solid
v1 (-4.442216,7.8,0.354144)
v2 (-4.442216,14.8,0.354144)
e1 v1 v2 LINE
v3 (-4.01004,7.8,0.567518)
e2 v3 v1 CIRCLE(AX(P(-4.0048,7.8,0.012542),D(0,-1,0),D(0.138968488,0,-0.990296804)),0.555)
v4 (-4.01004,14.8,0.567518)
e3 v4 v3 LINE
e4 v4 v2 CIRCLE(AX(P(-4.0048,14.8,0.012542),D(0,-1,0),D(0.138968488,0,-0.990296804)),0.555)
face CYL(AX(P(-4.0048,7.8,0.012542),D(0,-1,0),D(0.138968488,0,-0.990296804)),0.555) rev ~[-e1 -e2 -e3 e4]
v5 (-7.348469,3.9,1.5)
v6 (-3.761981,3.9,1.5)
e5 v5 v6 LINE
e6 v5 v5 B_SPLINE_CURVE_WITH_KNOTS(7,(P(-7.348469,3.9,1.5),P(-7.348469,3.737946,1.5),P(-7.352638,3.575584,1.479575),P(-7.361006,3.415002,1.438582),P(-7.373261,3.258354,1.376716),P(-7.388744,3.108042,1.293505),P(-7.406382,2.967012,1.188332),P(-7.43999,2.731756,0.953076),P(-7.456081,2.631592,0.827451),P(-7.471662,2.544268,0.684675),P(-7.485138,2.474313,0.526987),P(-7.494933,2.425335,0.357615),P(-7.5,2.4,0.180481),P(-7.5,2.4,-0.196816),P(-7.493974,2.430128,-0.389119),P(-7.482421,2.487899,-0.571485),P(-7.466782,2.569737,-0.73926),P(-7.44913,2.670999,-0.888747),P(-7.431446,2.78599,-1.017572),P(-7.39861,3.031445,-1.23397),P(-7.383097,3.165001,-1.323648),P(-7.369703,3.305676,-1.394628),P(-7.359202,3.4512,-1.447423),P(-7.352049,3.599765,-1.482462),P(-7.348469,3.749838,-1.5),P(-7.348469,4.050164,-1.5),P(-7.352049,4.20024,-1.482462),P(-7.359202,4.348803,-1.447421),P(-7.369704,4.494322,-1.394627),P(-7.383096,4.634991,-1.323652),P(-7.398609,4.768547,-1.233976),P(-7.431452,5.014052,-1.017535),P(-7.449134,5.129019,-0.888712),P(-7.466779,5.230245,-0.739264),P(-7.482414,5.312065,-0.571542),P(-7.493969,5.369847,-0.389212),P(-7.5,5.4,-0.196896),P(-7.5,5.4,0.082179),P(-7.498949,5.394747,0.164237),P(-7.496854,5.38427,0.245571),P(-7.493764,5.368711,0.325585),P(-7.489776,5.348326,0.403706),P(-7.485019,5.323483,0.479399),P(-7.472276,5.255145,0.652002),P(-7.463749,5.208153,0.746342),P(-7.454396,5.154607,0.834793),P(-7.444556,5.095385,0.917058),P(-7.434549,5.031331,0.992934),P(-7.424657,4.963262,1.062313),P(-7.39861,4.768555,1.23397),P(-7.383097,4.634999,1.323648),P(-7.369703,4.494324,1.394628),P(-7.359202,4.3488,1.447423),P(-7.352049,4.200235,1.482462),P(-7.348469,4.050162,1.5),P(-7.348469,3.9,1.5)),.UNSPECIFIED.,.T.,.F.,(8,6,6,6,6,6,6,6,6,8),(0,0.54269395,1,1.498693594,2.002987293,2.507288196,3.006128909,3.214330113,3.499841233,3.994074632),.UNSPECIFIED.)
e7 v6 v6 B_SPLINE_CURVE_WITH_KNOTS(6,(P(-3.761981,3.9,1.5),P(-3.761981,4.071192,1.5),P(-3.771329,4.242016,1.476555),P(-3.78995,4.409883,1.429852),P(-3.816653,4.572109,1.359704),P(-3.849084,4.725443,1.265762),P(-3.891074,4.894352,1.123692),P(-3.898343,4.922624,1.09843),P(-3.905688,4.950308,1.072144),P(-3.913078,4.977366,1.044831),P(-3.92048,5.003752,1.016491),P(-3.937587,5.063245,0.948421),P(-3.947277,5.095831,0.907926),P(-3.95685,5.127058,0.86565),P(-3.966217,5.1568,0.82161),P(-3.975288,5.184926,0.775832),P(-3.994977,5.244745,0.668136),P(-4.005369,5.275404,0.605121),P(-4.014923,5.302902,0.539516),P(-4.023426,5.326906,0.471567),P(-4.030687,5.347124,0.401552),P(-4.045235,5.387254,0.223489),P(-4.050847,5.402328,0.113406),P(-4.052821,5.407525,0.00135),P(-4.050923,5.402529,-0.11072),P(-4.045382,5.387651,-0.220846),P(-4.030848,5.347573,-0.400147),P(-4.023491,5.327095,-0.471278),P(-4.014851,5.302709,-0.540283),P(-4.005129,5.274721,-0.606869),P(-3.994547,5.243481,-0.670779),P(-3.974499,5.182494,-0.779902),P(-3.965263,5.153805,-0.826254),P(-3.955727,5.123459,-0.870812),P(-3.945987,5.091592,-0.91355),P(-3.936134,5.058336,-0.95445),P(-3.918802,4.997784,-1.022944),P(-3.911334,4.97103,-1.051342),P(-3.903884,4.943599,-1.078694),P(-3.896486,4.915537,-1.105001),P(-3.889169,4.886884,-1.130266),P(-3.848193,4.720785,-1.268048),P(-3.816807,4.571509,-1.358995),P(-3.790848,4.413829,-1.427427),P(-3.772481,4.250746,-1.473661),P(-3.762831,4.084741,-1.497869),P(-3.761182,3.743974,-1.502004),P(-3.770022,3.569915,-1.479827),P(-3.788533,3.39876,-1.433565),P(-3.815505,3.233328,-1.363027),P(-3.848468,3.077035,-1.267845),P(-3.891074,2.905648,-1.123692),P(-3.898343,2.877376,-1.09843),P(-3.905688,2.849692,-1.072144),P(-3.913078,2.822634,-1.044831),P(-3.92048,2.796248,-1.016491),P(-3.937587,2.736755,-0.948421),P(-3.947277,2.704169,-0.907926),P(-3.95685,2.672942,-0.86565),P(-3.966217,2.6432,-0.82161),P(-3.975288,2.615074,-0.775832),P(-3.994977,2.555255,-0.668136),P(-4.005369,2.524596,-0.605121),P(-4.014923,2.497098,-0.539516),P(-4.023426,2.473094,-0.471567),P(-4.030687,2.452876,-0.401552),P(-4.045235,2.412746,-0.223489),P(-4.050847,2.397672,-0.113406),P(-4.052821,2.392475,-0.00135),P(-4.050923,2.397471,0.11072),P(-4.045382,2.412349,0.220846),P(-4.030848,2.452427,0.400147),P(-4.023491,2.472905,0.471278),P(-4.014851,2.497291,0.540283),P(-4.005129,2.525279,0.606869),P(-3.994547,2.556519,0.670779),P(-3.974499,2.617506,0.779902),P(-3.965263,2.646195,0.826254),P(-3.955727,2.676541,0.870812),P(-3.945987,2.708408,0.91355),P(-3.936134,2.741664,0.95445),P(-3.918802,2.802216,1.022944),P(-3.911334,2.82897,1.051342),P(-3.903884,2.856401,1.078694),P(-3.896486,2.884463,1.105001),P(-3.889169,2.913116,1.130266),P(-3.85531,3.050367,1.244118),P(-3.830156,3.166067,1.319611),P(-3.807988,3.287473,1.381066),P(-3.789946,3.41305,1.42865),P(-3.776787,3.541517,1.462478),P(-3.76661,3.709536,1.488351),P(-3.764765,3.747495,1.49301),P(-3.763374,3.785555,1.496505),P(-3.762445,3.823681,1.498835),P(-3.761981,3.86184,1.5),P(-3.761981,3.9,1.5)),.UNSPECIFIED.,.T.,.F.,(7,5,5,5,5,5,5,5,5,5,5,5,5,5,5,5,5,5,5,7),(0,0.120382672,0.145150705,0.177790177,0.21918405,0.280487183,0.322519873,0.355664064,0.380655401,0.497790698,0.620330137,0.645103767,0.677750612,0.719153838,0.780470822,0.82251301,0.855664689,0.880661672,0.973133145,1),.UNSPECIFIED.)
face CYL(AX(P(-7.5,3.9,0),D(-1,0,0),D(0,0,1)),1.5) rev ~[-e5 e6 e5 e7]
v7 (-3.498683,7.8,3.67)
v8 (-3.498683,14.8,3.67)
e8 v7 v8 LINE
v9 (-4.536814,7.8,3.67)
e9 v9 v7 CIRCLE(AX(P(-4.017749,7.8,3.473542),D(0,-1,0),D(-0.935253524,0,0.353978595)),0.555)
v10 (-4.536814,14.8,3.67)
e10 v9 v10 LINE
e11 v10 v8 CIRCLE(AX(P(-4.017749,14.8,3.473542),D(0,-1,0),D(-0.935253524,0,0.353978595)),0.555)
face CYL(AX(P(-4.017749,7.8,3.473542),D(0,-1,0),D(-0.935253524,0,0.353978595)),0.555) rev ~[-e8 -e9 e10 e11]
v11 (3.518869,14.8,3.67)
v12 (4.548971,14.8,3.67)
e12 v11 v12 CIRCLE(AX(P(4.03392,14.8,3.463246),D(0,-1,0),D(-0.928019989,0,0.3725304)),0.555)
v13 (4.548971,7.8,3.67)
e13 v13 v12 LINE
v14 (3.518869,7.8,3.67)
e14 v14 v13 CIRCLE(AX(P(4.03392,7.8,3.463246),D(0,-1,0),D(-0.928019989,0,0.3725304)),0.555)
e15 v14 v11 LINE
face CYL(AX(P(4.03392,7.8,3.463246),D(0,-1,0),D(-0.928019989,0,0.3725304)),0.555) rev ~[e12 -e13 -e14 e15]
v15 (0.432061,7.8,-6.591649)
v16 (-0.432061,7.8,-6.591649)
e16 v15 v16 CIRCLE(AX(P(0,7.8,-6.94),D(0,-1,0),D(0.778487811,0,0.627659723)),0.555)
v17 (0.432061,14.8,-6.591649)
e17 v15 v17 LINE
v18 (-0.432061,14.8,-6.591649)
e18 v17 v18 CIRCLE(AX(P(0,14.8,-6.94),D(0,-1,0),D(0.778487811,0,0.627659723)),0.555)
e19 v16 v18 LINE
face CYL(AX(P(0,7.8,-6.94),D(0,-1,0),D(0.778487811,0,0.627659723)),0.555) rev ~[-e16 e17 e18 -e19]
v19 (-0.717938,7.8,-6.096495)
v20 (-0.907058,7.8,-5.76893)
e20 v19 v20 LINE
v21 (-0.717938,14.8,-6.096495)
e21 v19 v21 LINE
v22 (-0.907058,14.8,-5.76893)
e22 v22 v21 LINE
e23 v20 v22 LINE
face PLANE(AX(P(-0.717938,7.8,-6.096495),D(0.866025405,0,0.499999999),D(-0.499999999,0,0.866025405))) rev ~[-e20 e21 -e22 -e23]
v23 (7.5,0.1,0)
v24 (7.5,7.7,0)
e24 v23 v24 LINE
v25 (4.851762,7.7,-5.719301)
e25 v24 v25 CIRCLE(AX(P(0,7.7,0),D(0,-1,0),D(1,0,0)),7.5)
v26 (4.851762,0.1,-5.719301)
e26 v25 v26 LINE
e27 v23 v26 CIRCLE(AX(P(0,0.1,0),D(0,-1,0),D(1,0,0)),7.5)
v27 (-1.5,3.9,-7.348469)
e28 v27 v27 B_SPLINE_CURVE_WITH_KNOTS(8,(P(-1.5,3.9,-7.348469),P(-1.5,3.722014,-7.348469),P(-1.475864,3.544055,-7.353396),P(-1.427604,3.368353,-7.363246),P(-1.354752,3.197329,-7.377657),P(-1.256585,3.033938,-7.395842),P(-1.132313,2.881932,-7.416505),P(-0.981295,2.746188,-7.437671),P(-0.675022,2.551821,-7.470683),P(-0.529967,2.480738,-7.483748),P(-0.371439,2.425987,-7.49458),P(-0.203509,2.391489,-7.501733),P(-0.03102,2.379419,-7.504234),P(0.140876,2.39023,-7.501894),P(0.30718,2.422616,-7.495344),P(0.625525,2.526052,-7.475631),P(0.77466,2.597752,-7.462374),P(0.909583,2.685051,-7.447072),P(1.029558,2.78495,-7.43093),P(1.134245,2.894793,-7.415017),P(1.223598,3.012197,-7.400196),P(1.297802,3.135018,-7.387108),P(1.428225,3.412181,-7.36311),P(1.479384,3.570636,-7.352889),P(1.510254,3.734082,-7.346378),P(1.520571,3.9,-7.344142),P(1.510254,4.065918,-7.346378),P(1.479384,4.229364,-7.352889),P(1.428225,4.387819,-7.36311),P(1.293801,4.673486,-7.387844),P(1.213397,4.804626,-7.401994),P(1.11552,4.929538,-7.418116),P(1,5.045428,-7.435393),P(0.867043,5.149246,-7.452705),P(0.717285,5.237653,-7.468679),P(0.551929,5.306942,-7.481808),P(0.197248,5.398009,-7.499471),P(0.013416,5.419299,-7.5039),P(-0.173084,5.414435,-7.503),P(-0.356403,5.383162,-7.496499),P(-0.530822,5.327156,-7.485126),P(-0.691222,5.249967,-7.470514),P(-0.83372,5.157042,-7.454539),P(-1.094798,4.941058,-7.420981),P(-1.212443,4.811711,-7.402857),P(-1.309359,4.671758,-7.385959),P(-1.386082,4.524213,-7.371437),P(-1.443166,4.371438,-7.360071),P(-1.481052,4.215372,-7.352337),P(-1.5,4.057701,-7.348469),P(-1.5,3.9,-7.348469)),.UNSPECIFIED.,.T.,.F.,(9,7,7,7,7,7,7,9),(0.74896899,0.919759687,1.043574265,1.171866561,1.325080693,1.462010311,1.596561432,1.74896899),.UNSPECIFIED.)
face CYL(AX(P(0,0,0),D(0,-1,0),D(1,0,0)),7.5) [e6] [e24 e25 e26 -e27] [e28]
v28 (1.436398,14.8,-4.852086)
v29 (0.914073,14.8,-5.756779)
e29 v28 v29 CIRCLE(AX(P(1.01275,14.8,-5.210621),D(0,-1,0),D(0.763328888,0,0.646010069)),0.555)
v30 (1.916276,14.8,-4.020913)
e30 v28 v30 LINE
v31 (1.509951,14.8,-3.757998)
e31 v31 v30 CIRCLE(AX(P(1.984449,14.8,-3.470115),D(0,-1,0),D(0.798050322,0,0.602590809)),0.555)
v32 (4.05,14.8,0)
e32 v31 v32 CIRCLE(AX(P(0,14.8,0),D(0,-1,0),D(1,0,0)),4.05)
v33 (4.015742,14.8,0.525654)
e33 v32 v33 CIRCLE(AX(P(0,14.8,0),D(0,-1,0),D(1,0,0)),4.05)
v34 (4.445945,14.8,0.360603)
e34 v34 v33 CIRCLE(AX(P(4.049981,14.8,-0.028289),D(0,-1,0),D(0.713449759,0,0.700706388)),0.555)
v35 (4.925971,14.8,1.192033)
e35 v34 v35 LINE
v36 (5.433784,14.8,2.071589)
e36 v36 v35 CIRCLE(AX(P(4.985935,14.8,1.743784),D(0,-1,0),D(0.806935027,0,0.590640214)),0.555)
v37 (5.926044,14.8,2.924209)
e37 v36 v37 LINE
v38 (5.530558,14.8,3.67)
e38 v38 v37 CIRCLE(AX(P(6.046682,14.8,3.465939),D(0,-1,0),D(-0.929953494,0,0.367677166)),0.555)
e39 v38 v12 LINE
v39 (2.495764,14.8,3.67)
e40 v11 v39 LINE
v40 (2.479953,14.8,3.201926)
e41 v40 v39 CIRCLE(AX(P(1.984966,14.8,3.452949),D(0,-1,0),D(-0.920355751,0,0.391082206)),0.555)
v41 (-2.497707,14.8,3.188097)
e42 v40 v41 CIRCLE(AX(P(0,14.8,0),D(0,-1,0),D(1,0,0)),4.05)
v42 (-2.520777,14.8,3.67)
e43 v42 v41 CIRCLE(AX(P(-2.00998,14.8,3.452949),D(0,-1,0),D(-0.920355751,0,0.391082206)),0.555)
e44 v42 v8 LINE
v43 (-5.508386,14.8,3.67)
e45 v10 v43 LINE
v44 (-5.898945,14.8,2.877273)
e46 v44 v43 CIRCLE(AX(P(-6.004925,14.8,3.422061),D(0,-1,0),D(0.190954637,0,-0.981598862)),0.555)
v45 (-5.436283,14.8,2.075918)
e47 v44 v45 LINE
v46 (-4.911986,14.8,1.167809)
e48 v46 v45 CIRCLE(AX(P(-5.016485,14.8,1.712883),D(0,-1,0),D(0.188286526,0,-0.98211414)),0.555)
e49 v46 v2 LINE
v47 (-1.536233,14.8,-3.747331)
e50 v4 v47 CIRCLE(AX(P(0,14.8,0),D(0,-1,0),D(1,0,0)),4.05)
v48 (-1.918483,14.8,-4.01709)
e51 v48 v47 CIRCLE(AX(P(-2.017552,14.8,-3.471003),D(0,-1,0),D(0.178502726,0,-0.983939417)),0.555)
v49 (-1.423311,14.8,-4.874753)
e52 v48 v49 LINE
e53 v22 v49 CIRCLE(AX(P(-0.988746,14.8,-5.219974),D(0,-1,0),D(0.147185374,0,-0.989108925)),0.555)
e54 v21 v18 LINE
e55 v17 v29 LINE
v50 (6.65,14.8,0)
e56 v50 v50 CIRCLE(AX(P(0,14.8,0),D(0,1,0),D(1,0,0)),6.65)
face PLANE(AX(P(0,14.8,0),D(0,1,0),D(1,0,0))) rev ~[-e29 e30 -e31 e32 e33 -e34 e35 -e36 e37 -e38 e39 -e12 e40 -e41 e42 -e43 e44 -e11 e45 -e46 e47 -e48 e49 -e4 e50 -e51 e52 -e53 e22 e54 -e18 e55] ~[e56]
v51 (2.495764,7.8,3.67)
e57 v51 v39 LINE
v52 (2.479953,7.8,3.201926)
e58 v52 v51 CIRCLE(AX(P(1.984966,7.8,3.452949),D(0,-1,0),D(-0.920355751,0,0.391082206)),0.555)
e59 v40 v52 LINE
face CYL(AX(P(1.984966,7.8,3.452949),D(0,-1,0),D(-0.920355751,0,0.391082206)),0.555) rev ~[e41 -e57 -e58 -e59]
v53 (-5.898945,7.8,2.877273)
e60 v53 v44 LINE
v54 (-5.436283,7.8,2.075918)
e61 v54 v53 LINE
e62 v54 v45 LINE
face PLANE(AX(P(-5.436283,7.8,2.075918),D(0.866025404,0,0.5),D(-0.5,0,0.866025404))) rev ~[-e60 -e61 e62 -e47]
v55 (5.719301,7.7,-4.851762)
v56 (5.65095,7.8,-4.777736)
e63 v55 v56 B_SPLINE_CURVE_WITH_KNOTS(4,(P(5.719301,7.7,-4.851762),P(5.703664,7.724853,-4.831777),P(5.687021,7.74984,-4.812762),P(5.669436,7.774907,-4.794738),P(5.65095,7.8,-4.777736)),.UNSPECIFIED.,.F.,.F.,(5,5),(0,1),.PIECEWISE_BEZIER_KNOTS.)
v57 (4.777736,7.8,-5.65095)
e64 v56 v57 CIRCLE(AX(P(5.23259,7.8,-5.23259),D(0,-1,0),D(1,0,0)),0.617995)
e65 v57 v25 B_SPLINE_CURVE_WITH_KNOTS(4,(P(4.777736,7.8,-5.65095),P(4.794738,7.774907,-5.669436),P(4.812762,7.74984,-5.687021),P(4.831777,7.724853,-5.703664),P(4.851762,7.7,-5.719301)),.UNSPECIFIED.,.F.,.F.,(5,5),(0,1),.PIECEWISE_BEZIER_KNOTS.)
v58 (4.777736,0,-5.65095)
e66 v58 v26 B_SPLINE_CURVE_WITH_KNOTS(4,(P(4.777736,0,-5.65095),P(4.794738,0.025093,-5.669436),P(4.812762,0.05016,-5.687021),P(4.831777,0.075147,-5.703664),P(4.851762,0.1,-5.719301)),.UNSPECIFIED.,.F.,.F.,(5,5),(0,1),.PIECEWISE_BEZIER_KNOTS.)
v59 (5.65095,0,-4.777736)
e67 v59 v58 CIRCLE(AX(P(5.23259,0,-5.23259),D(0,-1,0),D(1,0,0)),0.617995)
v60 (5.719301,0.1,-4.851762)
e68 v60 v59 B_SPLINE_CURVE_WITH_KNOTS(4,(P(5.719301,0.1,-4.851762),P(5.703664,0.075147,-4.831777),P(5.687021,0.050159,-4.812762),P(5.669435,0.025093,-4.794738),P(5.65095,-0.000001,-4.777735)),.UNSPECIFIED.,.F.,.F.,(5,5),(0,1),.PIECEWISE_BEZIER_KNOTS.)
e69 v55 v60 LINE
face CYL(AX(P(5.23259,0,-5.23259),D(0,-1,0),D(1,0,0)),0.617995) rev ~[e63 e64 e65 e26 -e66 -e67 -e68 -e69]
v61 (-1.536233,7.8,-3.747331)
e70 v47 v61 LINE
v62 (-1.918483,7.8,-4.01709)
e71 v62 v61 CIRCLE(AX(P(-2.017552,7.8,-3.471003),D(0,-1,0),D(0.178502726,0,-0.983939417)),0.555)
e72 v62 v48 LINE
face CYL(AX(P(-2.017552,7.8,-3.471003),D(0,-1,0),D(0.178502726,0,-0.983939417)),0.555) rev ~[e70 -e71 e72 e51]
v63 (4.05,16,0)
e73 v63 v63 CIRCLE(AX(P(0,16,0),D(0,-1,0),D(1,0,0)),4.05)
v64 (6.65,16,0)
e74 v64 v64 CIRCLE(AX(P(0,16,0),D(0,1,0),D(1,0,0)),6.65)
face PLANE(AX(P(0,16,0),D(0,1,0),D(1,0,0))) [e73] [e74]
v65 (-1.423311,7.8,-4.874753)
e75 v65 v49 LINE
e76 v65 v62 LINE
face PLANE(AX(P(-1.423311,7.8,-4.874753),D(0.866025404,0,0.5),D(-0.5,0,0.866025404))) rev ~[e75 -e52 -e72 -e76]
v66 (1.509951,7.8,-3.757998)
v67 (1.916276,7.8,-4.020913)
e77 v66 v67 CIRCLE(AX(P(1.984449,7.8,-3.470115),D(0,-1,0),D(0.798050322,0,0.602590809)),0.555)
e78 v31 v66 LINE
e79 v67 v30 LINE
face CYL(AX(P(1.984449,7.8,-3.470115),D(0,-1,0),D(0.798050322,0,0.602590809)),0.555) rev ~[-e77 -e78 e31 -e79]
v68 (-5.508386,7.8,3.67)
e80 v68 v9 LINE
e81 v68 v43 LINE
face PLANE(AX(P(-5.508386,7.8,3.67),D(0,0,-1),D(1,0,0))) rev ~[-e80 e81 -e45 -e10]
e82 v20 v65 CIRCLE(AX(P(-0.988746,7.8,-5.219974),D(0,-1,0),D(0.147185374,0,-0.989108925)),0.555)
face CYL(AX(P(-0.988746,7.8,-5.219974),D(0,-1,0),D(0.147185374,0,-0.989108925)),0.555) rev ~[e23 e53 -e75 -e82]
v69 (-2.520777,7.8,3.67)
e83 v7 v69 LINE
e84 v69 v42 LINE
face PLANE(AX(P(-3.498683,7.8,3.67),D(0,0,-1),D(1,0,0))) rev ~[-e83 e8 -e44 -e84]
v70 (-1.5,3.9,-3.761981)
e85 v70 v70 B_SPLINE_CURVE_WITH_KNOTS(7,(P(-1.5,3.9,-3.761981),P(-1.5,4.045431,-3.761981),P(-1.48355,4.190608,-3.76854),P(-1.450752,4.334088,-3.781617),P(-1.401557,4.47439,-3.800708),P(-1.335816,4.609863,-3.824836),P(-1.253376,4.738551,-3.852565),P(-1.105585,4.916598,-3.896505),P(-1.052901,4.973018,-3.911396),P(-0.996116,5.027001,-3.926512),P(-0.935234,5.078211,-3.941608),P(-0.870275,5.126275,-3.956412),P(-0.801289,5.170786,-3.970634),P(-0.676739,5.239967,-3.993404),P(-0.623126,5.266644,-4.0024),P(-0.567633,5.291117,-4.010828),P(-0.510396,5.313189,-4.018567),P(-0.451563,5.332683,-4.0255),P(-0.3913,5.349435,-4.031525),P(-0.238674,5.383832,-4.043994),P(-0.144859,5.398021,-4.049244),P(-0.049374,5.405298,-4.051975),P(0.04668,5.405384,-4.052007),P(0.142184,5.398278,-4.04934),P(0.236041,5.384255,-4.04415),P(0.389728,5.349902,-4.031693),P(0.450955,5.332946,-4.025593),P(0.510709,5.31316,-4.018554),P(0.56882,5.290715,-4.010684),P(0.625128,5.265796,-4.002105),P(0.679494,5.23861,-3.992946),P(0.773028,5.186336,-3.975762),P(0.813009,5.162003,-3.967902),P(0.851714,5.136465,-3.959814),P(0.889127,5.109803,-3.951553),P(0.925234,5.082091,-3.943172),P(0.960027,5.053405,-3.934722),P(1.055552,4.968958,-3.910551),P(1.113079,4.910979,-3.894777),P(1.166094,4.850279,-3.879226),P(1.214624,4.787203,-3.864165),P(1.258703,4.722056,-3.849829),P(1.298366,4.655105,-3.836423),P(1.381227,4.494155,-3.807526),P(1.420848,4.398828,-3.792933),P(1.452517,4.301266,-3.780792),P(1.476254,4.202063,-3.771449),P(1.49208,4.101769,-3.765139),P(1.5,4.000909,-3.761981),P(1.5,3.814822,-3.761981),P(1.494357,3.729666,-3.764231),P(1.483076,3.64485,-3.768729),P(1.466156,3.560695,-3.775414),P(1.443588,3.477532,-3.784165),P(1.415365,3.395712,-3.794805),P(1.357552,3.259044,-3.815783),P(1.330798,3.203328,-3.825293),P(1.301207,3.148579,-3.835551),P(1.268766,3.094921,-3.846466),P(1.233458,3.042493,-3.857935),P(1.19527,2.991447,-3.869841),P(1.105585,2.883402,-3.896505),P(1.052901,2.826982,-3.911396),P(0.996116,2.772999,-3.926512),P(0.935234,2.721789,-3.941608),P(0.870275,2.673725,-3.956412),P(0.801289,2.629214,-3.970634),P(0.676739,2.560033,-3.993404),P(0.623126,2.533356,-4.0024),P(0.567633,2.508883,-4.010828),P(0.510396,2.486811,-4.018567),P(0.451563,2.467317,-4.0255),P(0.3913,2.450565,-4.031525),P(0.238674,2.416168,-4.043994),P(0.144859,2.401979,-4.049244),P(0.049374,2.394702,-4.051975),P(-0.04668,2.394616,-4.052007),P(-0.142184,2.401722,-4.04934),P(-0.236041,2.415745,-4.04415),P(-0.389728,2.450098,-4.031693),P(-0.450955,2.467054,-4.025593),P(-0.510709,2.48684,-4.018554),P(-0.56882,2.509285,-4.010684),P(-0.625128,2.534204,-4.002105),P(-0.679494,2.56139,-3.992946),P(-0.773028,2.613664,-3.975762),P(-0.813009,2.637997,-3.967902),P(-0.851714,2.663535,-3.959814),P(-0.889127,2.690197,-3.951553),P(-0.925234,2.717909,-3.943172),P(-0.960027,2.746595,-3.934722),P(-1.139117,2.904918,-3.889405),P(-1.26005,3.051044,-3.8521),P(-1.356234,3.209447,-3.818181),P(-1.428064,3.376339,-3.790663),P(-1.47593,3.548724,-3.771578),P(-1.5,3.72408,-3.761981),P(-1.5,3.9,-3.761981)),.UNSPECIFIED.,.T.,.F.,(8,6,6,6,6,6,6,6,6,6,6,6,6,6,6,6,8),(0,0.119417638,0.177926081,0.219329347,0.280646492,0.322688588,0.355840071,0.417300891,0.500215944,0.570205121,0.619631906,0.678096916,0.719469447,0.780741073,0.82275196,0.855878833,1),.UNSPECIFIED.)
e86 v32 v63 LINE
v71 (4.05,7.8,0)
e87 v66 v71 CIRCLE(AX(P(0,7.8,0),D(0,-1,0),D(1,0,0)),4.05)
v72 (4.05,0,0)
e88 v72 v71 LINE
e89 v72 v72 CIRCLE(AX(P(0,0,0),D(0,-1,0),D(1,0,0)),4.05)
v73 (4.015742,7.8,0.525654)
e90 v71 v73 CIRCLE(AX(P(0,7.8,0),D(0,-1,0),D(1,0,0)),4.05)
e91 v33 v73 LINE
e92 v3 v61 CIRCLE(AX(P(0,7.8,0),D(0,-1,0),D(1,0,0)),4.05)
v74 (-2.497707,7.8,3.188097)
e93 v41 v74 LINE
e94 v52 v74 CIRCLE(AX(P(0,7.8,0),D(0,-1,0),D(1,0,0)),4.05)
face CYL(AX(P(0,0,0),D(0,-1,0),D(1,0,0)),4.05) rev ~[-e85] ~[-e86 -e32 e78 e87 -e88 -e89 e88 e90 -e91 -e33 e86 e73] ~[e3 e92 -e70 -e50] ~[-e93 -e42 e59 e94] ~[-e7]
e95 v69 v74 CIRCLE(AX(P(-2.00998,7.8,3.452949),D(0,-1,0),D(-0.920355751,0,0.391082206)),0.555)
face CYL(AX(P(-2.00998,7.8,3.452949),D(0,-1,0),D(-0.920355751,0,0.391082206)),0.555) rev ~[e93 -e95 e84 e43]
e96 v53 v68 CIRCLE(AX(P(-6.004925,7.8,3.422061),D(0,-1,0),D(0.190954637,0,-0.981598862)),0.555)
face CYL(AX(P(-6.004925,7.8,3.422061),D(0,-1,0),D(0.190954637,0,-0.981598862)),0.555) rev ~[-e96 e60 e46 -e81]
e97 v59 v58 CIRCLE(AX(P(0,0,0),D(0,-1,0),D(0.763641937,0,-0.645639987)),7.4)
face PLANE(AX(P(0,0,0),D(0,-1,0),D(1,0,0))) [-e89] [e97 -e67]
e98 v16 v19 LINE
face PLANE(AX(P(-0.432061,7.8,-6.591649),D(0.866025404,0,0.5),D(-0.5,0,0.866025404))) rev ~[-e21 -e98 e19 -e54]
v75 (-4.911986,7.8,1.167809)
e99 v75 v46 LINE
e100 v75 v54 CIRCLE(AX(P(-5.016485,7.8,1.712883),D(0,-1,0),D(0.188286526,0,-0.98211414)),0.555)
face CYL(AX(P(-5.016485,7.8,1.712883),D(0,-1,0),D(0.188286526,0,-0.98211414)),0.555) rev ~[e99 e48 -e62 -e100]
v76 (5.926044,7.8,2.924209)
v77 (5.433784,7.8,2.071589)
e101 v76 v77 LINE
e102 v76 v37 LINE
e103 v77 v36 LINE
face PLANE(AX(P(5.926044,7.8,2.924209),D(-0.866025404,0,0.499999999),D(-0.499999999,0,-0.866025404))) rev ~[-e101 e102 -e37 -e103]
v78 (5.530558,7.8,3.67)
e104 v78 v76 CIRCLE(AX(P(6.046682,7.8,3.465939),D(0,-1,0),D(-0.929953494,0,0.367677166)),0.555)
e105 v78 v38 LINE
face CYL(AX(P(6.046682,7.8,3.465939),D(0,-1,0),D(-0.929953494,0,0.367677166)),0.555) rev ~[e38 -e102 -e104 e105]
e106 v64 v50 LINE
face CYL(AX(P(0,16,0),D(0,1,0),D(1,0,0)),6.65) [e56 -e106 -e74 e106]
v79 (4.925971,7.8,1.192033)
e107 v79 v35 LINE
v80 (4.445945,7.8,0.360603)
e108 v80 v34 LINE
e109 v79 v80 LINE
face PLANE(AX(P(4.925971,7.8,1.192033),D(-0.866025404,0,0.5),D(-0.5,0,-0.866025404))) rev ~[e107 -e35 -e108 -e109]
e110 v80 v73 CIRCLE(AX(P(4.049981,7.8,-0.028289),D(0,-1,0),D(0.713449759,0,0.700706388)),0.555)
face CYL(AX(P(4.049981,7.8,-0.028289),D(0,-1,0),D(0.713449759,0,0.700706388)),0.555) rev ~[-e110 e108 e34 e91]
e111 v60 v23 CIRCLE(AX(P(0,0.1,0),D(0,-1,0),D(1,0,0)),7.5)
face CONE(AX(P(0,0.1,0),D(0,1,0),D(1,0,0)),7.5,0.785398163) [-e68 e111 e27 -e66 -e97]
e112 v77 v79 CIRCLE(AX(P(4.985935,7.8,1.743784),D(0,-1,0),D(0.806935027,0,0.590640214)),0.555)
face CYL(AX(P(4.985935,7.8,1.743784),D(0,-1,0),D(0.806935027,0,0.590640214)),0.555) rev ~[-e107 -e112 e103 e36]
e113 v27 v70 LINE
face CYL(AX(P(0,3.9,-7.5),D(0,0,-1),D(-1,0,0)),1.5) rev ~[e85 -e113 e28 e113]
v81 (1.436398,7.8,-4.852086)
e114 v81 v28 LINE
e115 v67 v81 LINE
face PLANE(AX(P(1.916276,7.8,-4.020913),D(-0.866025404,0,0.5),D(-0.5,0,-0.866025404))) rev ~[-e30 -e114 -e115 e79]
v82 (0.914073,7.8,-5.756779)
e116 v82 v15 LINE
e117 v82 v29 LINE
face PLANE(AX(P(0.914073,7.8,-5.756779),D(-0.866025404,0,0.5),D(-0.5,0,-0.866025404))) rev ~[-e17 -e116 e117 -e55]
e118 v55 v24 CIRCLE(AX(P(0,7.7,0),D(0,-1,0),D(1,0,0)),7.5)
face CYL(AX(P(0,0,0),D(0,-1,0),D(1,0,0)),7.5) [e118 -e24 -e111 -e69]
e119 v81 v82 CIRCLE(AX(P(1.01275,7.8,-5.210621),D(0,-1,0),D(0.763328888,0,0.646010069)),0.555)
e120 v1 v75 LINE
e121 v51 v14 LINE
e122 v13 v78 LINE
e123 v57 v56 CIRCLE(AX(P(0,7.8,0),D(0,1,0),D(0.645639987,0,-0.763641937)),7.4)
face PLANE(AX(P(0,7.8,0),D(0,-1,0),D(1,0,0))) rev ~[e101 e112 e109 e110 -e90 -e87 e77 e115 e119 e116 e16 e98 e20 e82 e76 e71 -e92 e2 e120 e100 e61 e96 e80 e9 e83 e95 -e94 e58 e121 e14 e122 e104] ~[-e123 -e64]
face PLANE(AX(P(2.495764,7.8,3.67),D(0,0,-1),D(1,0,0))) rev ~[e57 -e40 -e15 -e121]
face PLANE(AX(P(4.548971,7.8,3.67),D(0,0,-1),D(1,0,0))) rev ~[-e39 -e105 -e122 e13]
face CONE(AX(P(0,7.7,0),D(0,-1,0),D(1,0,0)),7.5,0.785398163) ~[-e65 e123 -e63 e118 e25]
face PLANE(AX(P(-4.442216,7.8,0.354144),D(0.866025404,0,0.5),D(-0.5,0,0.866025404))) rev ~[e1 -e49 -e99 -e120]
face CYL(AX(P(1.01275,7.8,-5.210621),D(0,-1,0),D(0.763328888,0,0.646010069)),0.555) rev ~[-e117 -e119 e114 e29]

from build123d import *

# Parameters (mm, degrees)
P_IDAT_START            = 7.8
SKICA1_R                = 2.5
P_IDAT_VYSUNUT_M1_DEPTH = 7
SKICA2_R                = 3.5
SKICA2_R_2              = 2.5
P_IDAT_VYSUNUT_M2_DEPTH = 7.8
SKICA3_R                = 3.5
SKICA3_R_2              = 2.5
P_IDAT_VYSUNUT_M3_DEPTH = 1.2
SKICA5_R                = 7.5
SKICA5_R_2              = 3.5
P_IDAT_VYSUNUT_M4_DEPTH = 1.2
SKICA6_R                = 7.5
SKICA6_R_2              = 3.5
P_IDAT_VYSUNUT_M5_DEPTH = 7.8
ZKOSEN_1_SIZE           = 0.1
ZKOSEN_2_SIZE           = 0.1
ZKOSEN_3_SIZE           = 0.1
SKETCH8_OUTSIDE_W       = 22.314
SKETCH8_OUTSIDE_H       = 22.314
SKETCH8_OUTSIDE_R       = 6.65
CUT_EXTRUDE2_DEPTH      = 5
SKETCH19_R              = 1.5
CUT_EXTRUDE6_DEPTH      = 5
SKETCH20_R              = 1.5
CUT_EXTRUDE7_DEPTH      = 5
SKETCH7_R               = 4.05
CUT_EXTRUDE9_DEPTH      = 20
SKETCH27_R              = 7.4
CUT_EXTRUDE12_DEPTH     = 7
BOSS_EXTRUDE2_DEPTH     = 7.1
SKETCH28_R              = 4.05
CUT_EXTRUDE13_DEPTH     = 30
SKETCH30_R              = 0.617994848
CUT_EXTRUDE15_DEPTH     = 30


with BuildPart() as part:
    # Skica1 → Přidat vysunutím1 (new body)
    with BuildSketch(Plane(origin=(0, 0, 0), x_dir=(1, 0, 0), z_dir=(0, 1, 0)).offset(P_IDAT_START)):
        with BuildLine():
            ThreePointArc((-5.730143195, 1.098270155), (-5.09645097, 1.530497044), (-5.387174672, 2.240331989))
            ThreePointArc((-5.387174672, 2.240331989), (-5.468060657, 2.292707421), (-5.540463547, 2.356296335))
            ThreePointArc((-5.540463547, 2.356296335), (-5.573874331, 2.399596558), (-5.596043873, 2.44959357))
            ThreePointArc((-5.596043873, 2.44959357), (-5.50369925, 2.650567912), (-5.404139771, 2.848067596))
            ThreePointArc((-5.404139771, 2.848067596), (-5.351227535, 2.86190541), (-5.296542742, 2.862779021))
            ThreePointArc((-5.296542742, 2.862779021), (-5.201685094, 2.845815675), (-5.110305882, 2.815228615))
            ThreePointArc((-5.110305882, 2.815228615), (-4.374063308, 3.030479148), (-4.431206919, 3.795410862))
            ThreePointArc((-4.431206919, 3.795410862), (-4.491949163, 3.870218002), (-4.541158349, 3.953068377))
            ThreePointArc((-4.541158349, 3.953068377), (-4.559553388, 4.004573836), (-4.565187949, 4.058974585))
            ThreePointArc((-4.565187949, 4.058974585), (-4.415258506, 4.221576484), (-4.259541056, 4.378644275))
            ThreePointArc((-4.259541056, 4.378644275), (-4.204942409, 4.375454038), (-4.15266412, 4.359386362))
            ThreePointArc((-4.15266412, 4.359386362), (-4.067691098, 4.313940635), (-3.990236225, 4.256612884))
            ThreePointArc((-3.990236225, 4.256612884), (-3.223511854, 4.233816838), (-3.041481758, 4.978968476))
            ThreePointArc((-3.041481758, 4.978968476), (-3.076134388, 5.06888468), (-3.097332931, 5.162886543))
            ThreePointArc((-3.097332931, 5.162886543), (-3.09891159, 5.217555525), (-3.08745962, 5.271034888))
            ThreePointArc((-3.08745962, 5.271034888), (-2.894621497, 5.379347737), (-2.697988784, 5.480608745))
            ThreePointArc((-2.697988784, 5.480608745), (-2.647048223, 5.460702739), (-2.6022938, 5.429266591))
            ThreePointArc((-2.6022938, 5.429266591), (-2.535523156, 5.359787029), (-2.479574443, 5.281330225))
            ThreePointArc((-2.479574443, 5.281330225), (-1.7574206, 5.022719037), (-1.354035171, 5.675149965))
            ThreePointArc((-1.354035171, 5.675149965), (-1.359206146, 5.771373608), (-1.350318985, 5.867325402))
            ThreePointArc((-1.350318985, 5.867325402), (-1.334926735, 5.919806527), (-1.307509232, 5.967129569))
            ThreePointArc((-1.307509232, 5.967129569), (-1.090638767, 6.010550954), (-0.872338572, 6.046093045))
            ThreePointArc((-0.872338572, 6.046093045), (-0.830042514, 6.01141981), (-0.797192832, 5.967692379))
            ThreePointArc((-0.797192832, 5.967692379), (-0.755160541, 5.880980125), (-0.726194639, 5.789074167))
            ThreePointArc((-0.726194639, 5.789074167), (-0.119300773, 5.319962501), (0.465953812, 5.815808234))
            ThreePointArc((0.465953812, 5.815808234), (0.490770664, 5.908920276), (0.528873591, 5.997429571))
            ThreePointArc((0.528873591, 5.997429571), (0.55973005, 6.04258562), (0.600429269, 6.079120034))
            ThreePointArc((0.600429269, 6.079120034), (0.820103284, 6.053399565), (1.038702217, 6.019743632))
            ThreePointArc((1.038702217, 6.019743632), (1.06821354, 5.973697225), (1.085942924, 5.921958857))
            ThreePointArc((1.085942924, 5.921958857), (1.099122448, 5.826501911), (1.098270155, 5.730143195))
            ThreePointArc((1.098270155, 5.730143195), (1.530497044, 5.09645097), (2.240331989, 5.387174672))
            ThreePointArc((2.240331989, 5.387174672), (2.292707421, 5.468060657), (2.356296335, 5.540463547))
            ThreePointArc((2.356296335, 5.540463547), (2.399596558, 5.573874331), (2.44959357, 5.596043873))
            ThreePointArc((2.44959357, 5.596043873), (2.650567912, 5.50369925), (2.848067596, 5.404139771))
            ThreePointArc((2.848067596, 5.404139771), (2.86190541, 5.351227535), (2.862779021, 5.296542742))
            ThreePointArc((2.862779021, 5.296542742), (2.845815675, 5.201685094), (2.815228615, 5.110305882))
            ThreePointArc((2.815228615, 5.110305882), (3.030479148, 4.374063308), (3.795410862, 4.431206919))
            ThreePointArc((3.795410862, 4.431206919), (3.870218002, 4.491949163), (3.953068377, 4.541158349))
            ThreePointArc((3.953068377, 4.541158349), (4.004573836, 4.559553388), (4.058974585, 4.565187949))
            ThreePointArc((4.058974585, 4.565187949), (4.221576484, 4.415258506), (4.378644275, 4.259541056))
            ThreePointArc((4.378644275, 4.259541056), (4.375454038, 4.204942409), (4.359386362, 4.15266412))
            ThreePointArc((4.359386362, 4.15266412), (4.313940635, 4.067691098), (4.256612884, 3.990236225))
            ThreePointArc((4.256612884, 3.990236225), (4.233816838, 3.223511854), (4.978968476, 3.041481758))
            ThreePointArc((4.978968476, 3.041481758), (5.06888468, 3.076134388), (5.162886543, 3.097332931))
            ThreePointArc((5.162886543, 3.097332931), (5.217555525, 3.09891159), (5.271034888, 3.08745962))
            ThreePointArc((5.271034888, 3.08745962), (5.379347737, 2.894621497), (5.480608745, 2.697988784))
            ThreePointArc((5.480608745, 2.697988784), (5.460702739, 2.647048223), (5.429266591, 2.6022938))
            ThreePointArc((5.429266591, 2.6022938), (5.359787029, 2.535523156), (5.281330225, 2.479574443))
            ThreePointArc((5.281330225, 2.479574443), (5.022719037, 1.7574206), (5.675149965, 1.354035171))
            ThreePointArc((5.675149965, 1.354035171), (5.771373608, 1.359206146), (5.867325402, 1.350318985))
            ThreePointArc((5.867325402, 1.350318985), (5.919806527, 1.334926735), (5.967129569, 1.307509232))
            ThreePointArc((5.967129569, 1.307509232), (6.010550954, 1.090638767), (6.046093045, 0.872338572))
            ThreePointArc((6.046093045, 0.872338572), (6.01141981, 0.830042514), (5.967692379, 0.797192832))
            ThreePointArc((5.967692379, 0.797192832), (5.880980125, 0.755160541), (5.789074167, 0.726194639))
            ThreePointArc((5.789074167, 0.726194639), (5.319962501, 0.119300773), (5.815808234, -0.465953812))
            ThreePointArc((5.815808234, -0.465953812), (5.908920276, -0.490770664), (5.997429571, -0.528873591))
            ThreePointArc((5.997429571, -0.528873591), (6.04258562, -0.55973005), (6.079120034, -0.600429269))
            ThreePointArc((6.079120034, -0.600429269), (6.053399565, -0.820103284), (6.019743632, -1.038702217))
            ThreePointArc((6.019743632, -1.038702217), (5.973697225, -1.06821354), (5.921958857, -1.085942924))
            ThreePointArc((5.921958857, -1.085942924), (5.826501911, -1.099122448), (5.730143195, -1.098270155))
            ThreePointArc((5.730143195, -1.098270155), (5.09645097, -1.530497044), (5.387174672, -2.240331989))
            ThreePointArc((5.387174672, -2.240331989), (5.468060657, -2.292707421), (5.540463547, -2.356296335))
            ThreePointArc((5.540463547, -2.356296335), (5.573874331, -2.399596558), (5.596043873, -2.44959357))
            ThreePointArc((5.596043873, -2.44959357), (5.50369925, -2.650567911), (5.404139771, -2.848067596))
            ThreePointArc((5.404139771, -2.848067596), (5.351227535, -2.86190541), (5.296542742, -2.862779021))
            ThreePointArc((5.296542742, -2.862779021), (5.201685094, -2.845815675), (5.110305882, -2.815228615))
            ThreePointArc((5.110305882, -2.815228615), (4.374063308, -3.030479148), (4.431206919, -3.795410862))
            ThreePointArc((4.431206919, -3.795410862), (4.491949163, -3.870218002), (4.541158349, -3.953068377))
            ThreePointArc((4.541158349, -3.953068377), (4.559553388, -4.004573836), (4.565187949, -4.058974585))
            ThreePointArc((4.565187949, -4.058974585), (4.415258506, -4.221576484), (4.259541056, -4.378644275))
            ThreePointArc((4.259541056, -4.378644275), (4.204942409, -4.375454038), (4.15266412, -4.359386362))
            ThreePointArc((4.15266412, -4.359386362), (4.067691098, -4.313940635), (3.990236225, -4.256612884))
            ThreePointArc((3.990236225, -4.256612884), (3.223511854, -4.233816838), (3.041481758, -4.978968476))
            ThreePointArc((3.041481758, -4.978968476), (3.076134388, -5.06888468), (3.097332931, -5.162886543))
            ThreePointArc((3.097332931, -5.162886543), (3.09891159, -5.217555525), (3.08745962, -5.271034888))
            ThreePointArc((3.08745962, -5.271034888), (2.894621497, -5.379347737), (2.697988784, -5.480608745))
            ThreePointArc((2.697988784, -5.480608745), (2.647048223, -5.460702739), (2.6022938, -5.429266591))
            ThreePointArc((2.6022938, -5.429266591), (2.535523156, -5.359787029), (2.479574443, -5.281330225))
            ThreePointArc((2.479574443, -5.281330225), (1.7574206, -5.022719037), (1.354035171, -5.675149965))
            ThreePointArc((1.354035171, -5.675149965), (1.359206146, -5.771373608), (1.350318985, -5.867325402))
            ThreePointArc((1.350318985, -5.867325402), (1.334926735, -5.919806527), (1.307509232, -5.967129569))
            ThreePointArc((1.307509232, -5.967129569), (1.090638767, -6.010550954), (0.872338572, -6.046093045))
            ThreePointArc((0.872338572, -6.046093045), (0.830042514, -6.01141981), (0.797192832, -5.967692379))
            ThreePointArc((0.797192832, -5.967692379), (0.755160541, -5.880980125), (0.726194639, -5.789074167))
            ThreePointArc((0.726194639, -5.789074167), (0.119300773, -5.319962501), (-0.465953812, -5.815808234))
            ThreePointArc((-0.465953812, -5.815808234), (-0.490770664, -5.908920276), (-0.528873591, -5.997429571))
            ThreePointArc((-0.528873591, -5.997429571), (-0.55973005, -6.04258562), (-0.600429269, -6.079120034))
            ThreePointArc((-0.600429269, -6.079120034), (-0.820103284, -6.053399565), (-1.038702217, -6.019743632))
            ThreePointArc((-1.038702217, -6.019743632), (-1.06821354, -5.973697225), (-1.085942924, -5.921958857))
            ThreePointArc((-1.085942924, -5.921958857), (-1.099122448, -5.826501911), (-1.098270155, -5.730143195))
            ThreePointArc((-1.098270155, -5.730143195), (-1.530497044, -5.09645097), (-2.240331989, -5.387174672))
            ThreePointArc((-2.240331989, -5.387174672), (-2.292707421, -5.468060657), (-2.356296335, -5.540463547))
            ThreePointArc((-2.356296335, -5.540463547), (-2.399596558, -5.573874331), (-2.44959357, -5.596043873))
            ThreePointArc((-2.44959357, -5.596043873), (-2.650567912, -5.50369925), (-2.848067596, -5.404139771))
            ThreePointArc((-2.848067596, -5.404139771), (-2.86190541, -5.351227535), (-2.862779021, -5.296542742))
            ThreePointArc((-2.862779021, -5.296542742), (-2.845815675, -5.201685094), (-2.815228615, -5.110305882))
            ThreePointArc((-2.815228615, -5.110305882), (-3.030479148, -4.374063308), (-3.795410862, -4.431206919))
            ThreePointArc((-3.795410862, -4.431206919), (-3.870218002, -4.491949163), (-3.953068377, -4.541158349))
            ThreePointArc((-3.953068377, -4.541158349), (-4.004573836, -4.559553388), (-4.058974585, -4.565187949))
            ThreePointArc((-4.058974585, -4.565187949), (-4.221576484, -4.415258506), (-4.378644275, -4.259541056))
            ThreePointArc((-4.378644275, -4.259541056), (-4.375454038, -4.204942409), (-4.359386362, -4.15266412))
            ThreePointArc((-4.359386362, -4.15266412), (-4.313940635, -4.067691098), (-4.256612884, -3.990236225))
            ThreePointArc((-4.256612884, -3.990236225), (-4.233816838, -3.223511854), (-4.978968476, -3.041481758))
            ThreePointArc((-4.978968476, -3.041481758), (-5.06888468, -3.076134388), (-5.162886543, -3.097332931))
            ThreePointArc((-5.162886543, -3.097332931), (-5.217555525, -3.09891159), (-5.271034888, -3.08745962))
            ThreePointArc((-5.271034888, -3.08745962), (-5.379347737, -2.894621497), (-5.480608745, -2.697988784))
            ThreePointArc((-5.480608745, -2.697988784), (-5.460702739, -2.647048223), (-5.429266591, -2.6022938))
            ThreePointArc((-5.429266591, -2.6022938), (-5.359787029, -2.535523156), (-5.281330225, -2.479574443))
            ThreePointArc((-5.281330225, -2.479574443), (-5.022719037, -1.7574206), (-5.675149965, -1.354035171))
            ThreePointArc((-5.675149965, -1.354035171), (-5.771373608, -1.359206146), (-5.867325402, -1.350318985))
            ThreePointArc((-5.867325402, -1.350318985), (-5.919806527, -1.334926735), (-5.967129569, -1.307509232))
            ThreePointArc((-5.967129569, -1.307509232), (-6.010550954, -1.090638767), (-6.046093045, -0.872338572))
            ThreePointArc((-6.046093045, -0.872338572), (-6.01141981, -0.830042514), (-5.967692379, -0.797192832))
            ThreePointArc((-5.967692379, -0.797192832), (-5.880980125, -0.755160541), (-5.789074167, -0.726194639))
            ThreePointArc((-5.789074167, -0.726194639), (-5.319962501, -0.119300773), (-5.815808234, 0.465953812))
            ThreePointArc((-5.815808234, 0.465953812), (-5.908920276, 0.490770664), (-5.997429571, 0.528873591))
            ThreePointArc((-5.997429571, 0.528873591), (-6.04258562, 0.55973005), (-6.079120034, 0.600429269))
            ThreePointArc((-6.079120034, 0.600429269), (-6.053399565, 0.820103284), (-6.019743632, 1.038702217))
            ThreePointArc((-6.019743632, 1.038702217), (-5.973697225, 1.06821354), (-5.921958857, 1.085942924))
            ThreePointArc((-5.921958857, 1.085942924), (-5.826501911, 1.099122448), (-5.730143195, 1.098270155))
        make_face()
        Circle(SKICA1_R, mode=Mode.SUBTRACT)
    extrude(amount=P_IDAT_VYSUNUT_M1_DEPTH)

    # Skica2 → Přidat vysunutím2 (add)
    with BuildSketch(Plane.XZ.offset(-7.8)):
        Circle(SKICA2_R)
        Circle(SKICA2_R_2, mode=Mode.SUBTRACT)
    extrude(amount=P_IDAT_VYSUNUT_M2_DEPTH)

    # Skica3 → Přidat vysunutím3 (add)
    with BuildSketch(Plane(origin=(0, 14.8, 0), x_dir=(1, 0, 0), z_dir=(0, 1, 0))):
        Circle(SKICA3_R)
        Circle(SKICA3_R_2, mode=Mode.SUBTRACT)
    extrude(amount=P_IDAT_VYSUNUT_M3_DEPTH)

    # Zkosení2
    zkosen_2_edges = [part.edges().sort_by_distance(p)[0] for p in [
        (-2.5, 0, 0),
        (-2.5, 16, 0),
    ]]
    chamfer(zkosen_2_edges, length=ZKOSEN_2_SIZE)


with BuildPart() as body_2:
    # Skica5 → Přidat vysunutím4 (new body)
    with BuildSketch(Plane(origin=(0, 16, 0), x_dir=(1, 0, 0), z_dir=(0, 1, 0))):
        Circle(SKICA5_R)
        Circle(SKICA5_R_2, mode=Mode.SUBTRACT)
    extrude(amount=-P_IDAT_VYSUNUT_M4_DEPTH)

    # Zkosení1
    zkosen_1_edges = [body_2.edges().sort_by_distance(p)[0] for p in [
        (-7.5, 16, 0),
        (-7.5, 14.8, 0),
    ]]
    chamfer(zkosen_1_edges, length=ZKOSEN_1_SIZE)

    # Sketch8 outside → Cut-Extrude2 (cut)
    with BuildSketch(Plane(origin=(0, 16, 0), x_dir=(1, 0, 0), z_dir=(0, 1, 0))):
        Rectangle(SKETCH8_OUTSIDE_W, SKETCH8_OUTSIDE_H)
        Circle(SKETCH8_OUTSIDE_R, mode=Mode.SUBTRACT)
    extrude(amount=-CUT_EXTRUDE2_DEPTH, mode=Mode.SUBTRACT)


with BuildPart() as body_3:
    # Skica6 → Přidat vysunutím5 (new body)
    with BuildSketch(Plane.XZ):
        Circle(SKICA6_R)
        Circle(SKICA6_R_2, mode=Mode.SUBTRACT)
    extrude(amount=-P_IDAT_VYSUNUT_M5_DEPTH)

    # Zkosení3
    zkosen_3_edges = [body_3.edges().sort_by_distance(p)[0] for p in [
        (-7.5, 0, 0),
        (-7.5, 7.8, 0),
    ]]
    chamfer(zkosen_3_edges, length=ZKOSEN_3_SIZE)

    # Sketch19 → Cut-Extrude6 (cut)
    with BuildSketch(Plane(origin=(0, 0, -7.5), x_dir=(-1, 0, 0), z_dir=(0, 0, -1))):
        with Locations((0, 3.9)):
            Circle(SKETCH19_R)
    extrude(amount=-CUT_EXTRUDE6_DEPTH, mode=Mode.SUBTRACT)

    # Sketch20 → Cut-Extrude7 (cut)
    with BuildSketch(Plane.ZY.offset(7.5)):
        with Locations((0, 3.9)):
            Circle(SKETCH20_R)
    extrude(amount=-CUT_EXTRUDE7_DEPTH, mode=Mode.SUBTRACT)


with BuildPart() as cut_extrude9_tool:
    # Sketch7 → Cut-Extrude9 (new body)
    with BuildSketch(Plane.XZ):
        Circle(SKETCH7_R)
    extrude(amount=-CUT_EXTRUDE9_DEPTH)


with BuildPart() as part_1:
    add(part.part)

    # Cut-Extrude9: cut by cut_extrude9_tool
    add(cut_extrude9_tool.part, mode=Mode.SUBTRACT)

    # Sketch27 → Cut-Extrude12 (cut)
    with BuildSketch(Plane(origin=(0, 7.8, 0), x_dir=(1, 0, 0), z_dir=(0, 1, 0))):
        Circle(SKETCH27_R)
    extrude(amount=CUT_EXTRUDE12_DEPTH, mode=Mode.SUBTRACT)


with BuildPart() as body_2_1:
    add(body_2.part)

    # Cut-Extrude9: cut by cut_extrude9_tool
    add(cut_extrude9_tool.part, mode=Mode.SUBTRACT)



with BuildPart() as body_3_1:
    add(body_3.part)

    # Cut-Extrude9: cut by cut_extrude9_tool
    add(cut_extrude9_tool.part, mode=Mode.SUBTRACT)


with BuildPart() as body_2_2:
    add(body_2_1.part)

    add(body_3_1.part)  # Boss-Extrude2 merges body 3
    # Sketch25 → Boss-Extrude2 (add)
    with BuildSketch(Plane(origin=(0, 7.8, 0), x_dir=(1, 0, 0), z_dir=(0, 1, 0))):
        with BuildLine():
            Line((-0.717938034, 6.096494849), (-0.907057907, 5.768929619))
            ThreePointArc((-0.907057907, 5.768929619), (-0.50810169, 4.942474166), (-1.423311217, 4.874752658))
            Line((-1.423311217, 4.874752658), (-1.918483232, 4.017089569))
            ThreePointArc((-1.918483232, 4.017089569), (-1.536908146, 3.193503192), (-2.440942413, 3.112163722))
            Line((-2.440942413, 3.112163722), (-2.91615597, 2.289069697))
            ThreePointArc((-2.91615597, 2.289069697), (-2.524743358, 1.463789867), (-3.435162962, 1.390123218))
            Line((-3.435162962, 1.390123218), (-3.927672168, 0.53707225))
            ThreePointArc((-3.927672168, 0.53707225), (-3.52415558, -0.290042476), (-4.442216238, -0.354144223))
            Line((-4.442216238, -0.354144223), (-4.911986074, -1.167809446))
            ThreePointArc((-4.911986074, -1.167809446), (-4.535840997, -1.990382794), (-5.436282951, -2.075918275))
            Line((-5.436282951, -2.075918275), (-5.898945462, -2.877273251))
            ThreePointArc((-5.898945462, -2.877273251), (-5.507068696, -3.176777484), (-5.508386199, -3.67))
            Line((-5.508386199, -3.67), (-4.536814361, -3.67))
            ThreePointArc((-4.536814361, -3.67), (-4.017748656, -2.91854188), (-3.49868295, -3.67))
            Line((-3.49868295, -3.67), (-2.520776964, -3.67))
            ThreePointArc((-2.520776964, -3.67), (-2.009979522, -2.897949376), (-1.499182081, -3.67))
            Line((-1.499182081, -3.67), (-0.513007831, -3.67))
            ThreePointArc((-0.513007831, -3.67), (-0.002210389, -2.897949376), (0.508587053, -3.67))
            Line((0.508587053, -3.67), (1.474168799, -3.67))
            ThreePointArc((1.474168799, -3.67), (1.98496624, -2.897949376), (2.495763682, -3.67))
            Line((2.495763682, -3.67), (3.518869287, -3.67))
            ThreePointArc((3.518869287, -3.67), (4.033920381, -2.908245628), (4.548971475, -3.67))
            Line((4.548971475, -3.67), (5.530558251, -3.67))
            ThreePointArc((5.530558251, -3.67), (5.556358411, -3.205925047), (5.92604395, -2.92420921))
            Line((5.92604395, -2.92420921), (5.4337836, -2.071589272))
            ThreePointArc((5.4337836, -2.071589272), (4.505290561, -2.021283953), (4.925971396, -1.192032735))
            Line((4.925971396, -1.192032735), (4.445945351, -0.360603235))
            ThreePointArc((4.445945351, -0.360603235), (3.569336636, -0.24921119), (3.911172652, 0.565650249))
            Line((3.911172652, 0.565650249), (3.418477875, 1.419022635))
            ThreePointArc((3.418477875, 1.419022635), (2.483630084, 1.460464645), (2.915164146, 2.290787587))
            Line((2.915164146, 2.290787587), (2.427366725, 3.135677503))
            ThreePointArc((2.427366725, 3.135677503), (1.503804697, 3.192615402), (1.916276044, 4.02091253))
            Line((1.916276044, 4.02091253), (1.436397938, 4.852085792))
            ThreePointArc((1.436397938, 4.852085792), (0.532106306, 4.93312138), (0.914073244, 5.7567787))
            Line((0.914073244, 5.7567787), (0.432060736, 6.591648854))
            ThreePointArc((0.432060736, 6.591648854), (0, 6.385), (-0.432060736, 6.591648854))
            Line((-0.432060736, 6.591648854), (-0.717938034, 6.096494849))
        make_face()
    extrude(amount=BOSS_EXTRUDE2_DEPTH)

    # Sketch28 → Cut-Extrude13 (cut)
    with BuildSketch(Plane(origin=(0, 16, 0), x_dir=(1, 0, 0), z_dir=(0, 1, 0))):
        Circle(SKETCH28_R)
    extrude(amount=-CUT_EXTRUDE13_DEPTH, mode=Mode.SUBTRACT)

    # Sketch30 → Cut-Extrude15 (cut)
    with BuildSketch(Plane.XZ):
        with Locations((5.232590181, -5.232590181)):
            Circle(SKETCH30_R)
    extrude(amount=-CUT_EXTRUDE15_DEPTH, mode=Mode.SUBTRACT)


solid = body_2_2.part
